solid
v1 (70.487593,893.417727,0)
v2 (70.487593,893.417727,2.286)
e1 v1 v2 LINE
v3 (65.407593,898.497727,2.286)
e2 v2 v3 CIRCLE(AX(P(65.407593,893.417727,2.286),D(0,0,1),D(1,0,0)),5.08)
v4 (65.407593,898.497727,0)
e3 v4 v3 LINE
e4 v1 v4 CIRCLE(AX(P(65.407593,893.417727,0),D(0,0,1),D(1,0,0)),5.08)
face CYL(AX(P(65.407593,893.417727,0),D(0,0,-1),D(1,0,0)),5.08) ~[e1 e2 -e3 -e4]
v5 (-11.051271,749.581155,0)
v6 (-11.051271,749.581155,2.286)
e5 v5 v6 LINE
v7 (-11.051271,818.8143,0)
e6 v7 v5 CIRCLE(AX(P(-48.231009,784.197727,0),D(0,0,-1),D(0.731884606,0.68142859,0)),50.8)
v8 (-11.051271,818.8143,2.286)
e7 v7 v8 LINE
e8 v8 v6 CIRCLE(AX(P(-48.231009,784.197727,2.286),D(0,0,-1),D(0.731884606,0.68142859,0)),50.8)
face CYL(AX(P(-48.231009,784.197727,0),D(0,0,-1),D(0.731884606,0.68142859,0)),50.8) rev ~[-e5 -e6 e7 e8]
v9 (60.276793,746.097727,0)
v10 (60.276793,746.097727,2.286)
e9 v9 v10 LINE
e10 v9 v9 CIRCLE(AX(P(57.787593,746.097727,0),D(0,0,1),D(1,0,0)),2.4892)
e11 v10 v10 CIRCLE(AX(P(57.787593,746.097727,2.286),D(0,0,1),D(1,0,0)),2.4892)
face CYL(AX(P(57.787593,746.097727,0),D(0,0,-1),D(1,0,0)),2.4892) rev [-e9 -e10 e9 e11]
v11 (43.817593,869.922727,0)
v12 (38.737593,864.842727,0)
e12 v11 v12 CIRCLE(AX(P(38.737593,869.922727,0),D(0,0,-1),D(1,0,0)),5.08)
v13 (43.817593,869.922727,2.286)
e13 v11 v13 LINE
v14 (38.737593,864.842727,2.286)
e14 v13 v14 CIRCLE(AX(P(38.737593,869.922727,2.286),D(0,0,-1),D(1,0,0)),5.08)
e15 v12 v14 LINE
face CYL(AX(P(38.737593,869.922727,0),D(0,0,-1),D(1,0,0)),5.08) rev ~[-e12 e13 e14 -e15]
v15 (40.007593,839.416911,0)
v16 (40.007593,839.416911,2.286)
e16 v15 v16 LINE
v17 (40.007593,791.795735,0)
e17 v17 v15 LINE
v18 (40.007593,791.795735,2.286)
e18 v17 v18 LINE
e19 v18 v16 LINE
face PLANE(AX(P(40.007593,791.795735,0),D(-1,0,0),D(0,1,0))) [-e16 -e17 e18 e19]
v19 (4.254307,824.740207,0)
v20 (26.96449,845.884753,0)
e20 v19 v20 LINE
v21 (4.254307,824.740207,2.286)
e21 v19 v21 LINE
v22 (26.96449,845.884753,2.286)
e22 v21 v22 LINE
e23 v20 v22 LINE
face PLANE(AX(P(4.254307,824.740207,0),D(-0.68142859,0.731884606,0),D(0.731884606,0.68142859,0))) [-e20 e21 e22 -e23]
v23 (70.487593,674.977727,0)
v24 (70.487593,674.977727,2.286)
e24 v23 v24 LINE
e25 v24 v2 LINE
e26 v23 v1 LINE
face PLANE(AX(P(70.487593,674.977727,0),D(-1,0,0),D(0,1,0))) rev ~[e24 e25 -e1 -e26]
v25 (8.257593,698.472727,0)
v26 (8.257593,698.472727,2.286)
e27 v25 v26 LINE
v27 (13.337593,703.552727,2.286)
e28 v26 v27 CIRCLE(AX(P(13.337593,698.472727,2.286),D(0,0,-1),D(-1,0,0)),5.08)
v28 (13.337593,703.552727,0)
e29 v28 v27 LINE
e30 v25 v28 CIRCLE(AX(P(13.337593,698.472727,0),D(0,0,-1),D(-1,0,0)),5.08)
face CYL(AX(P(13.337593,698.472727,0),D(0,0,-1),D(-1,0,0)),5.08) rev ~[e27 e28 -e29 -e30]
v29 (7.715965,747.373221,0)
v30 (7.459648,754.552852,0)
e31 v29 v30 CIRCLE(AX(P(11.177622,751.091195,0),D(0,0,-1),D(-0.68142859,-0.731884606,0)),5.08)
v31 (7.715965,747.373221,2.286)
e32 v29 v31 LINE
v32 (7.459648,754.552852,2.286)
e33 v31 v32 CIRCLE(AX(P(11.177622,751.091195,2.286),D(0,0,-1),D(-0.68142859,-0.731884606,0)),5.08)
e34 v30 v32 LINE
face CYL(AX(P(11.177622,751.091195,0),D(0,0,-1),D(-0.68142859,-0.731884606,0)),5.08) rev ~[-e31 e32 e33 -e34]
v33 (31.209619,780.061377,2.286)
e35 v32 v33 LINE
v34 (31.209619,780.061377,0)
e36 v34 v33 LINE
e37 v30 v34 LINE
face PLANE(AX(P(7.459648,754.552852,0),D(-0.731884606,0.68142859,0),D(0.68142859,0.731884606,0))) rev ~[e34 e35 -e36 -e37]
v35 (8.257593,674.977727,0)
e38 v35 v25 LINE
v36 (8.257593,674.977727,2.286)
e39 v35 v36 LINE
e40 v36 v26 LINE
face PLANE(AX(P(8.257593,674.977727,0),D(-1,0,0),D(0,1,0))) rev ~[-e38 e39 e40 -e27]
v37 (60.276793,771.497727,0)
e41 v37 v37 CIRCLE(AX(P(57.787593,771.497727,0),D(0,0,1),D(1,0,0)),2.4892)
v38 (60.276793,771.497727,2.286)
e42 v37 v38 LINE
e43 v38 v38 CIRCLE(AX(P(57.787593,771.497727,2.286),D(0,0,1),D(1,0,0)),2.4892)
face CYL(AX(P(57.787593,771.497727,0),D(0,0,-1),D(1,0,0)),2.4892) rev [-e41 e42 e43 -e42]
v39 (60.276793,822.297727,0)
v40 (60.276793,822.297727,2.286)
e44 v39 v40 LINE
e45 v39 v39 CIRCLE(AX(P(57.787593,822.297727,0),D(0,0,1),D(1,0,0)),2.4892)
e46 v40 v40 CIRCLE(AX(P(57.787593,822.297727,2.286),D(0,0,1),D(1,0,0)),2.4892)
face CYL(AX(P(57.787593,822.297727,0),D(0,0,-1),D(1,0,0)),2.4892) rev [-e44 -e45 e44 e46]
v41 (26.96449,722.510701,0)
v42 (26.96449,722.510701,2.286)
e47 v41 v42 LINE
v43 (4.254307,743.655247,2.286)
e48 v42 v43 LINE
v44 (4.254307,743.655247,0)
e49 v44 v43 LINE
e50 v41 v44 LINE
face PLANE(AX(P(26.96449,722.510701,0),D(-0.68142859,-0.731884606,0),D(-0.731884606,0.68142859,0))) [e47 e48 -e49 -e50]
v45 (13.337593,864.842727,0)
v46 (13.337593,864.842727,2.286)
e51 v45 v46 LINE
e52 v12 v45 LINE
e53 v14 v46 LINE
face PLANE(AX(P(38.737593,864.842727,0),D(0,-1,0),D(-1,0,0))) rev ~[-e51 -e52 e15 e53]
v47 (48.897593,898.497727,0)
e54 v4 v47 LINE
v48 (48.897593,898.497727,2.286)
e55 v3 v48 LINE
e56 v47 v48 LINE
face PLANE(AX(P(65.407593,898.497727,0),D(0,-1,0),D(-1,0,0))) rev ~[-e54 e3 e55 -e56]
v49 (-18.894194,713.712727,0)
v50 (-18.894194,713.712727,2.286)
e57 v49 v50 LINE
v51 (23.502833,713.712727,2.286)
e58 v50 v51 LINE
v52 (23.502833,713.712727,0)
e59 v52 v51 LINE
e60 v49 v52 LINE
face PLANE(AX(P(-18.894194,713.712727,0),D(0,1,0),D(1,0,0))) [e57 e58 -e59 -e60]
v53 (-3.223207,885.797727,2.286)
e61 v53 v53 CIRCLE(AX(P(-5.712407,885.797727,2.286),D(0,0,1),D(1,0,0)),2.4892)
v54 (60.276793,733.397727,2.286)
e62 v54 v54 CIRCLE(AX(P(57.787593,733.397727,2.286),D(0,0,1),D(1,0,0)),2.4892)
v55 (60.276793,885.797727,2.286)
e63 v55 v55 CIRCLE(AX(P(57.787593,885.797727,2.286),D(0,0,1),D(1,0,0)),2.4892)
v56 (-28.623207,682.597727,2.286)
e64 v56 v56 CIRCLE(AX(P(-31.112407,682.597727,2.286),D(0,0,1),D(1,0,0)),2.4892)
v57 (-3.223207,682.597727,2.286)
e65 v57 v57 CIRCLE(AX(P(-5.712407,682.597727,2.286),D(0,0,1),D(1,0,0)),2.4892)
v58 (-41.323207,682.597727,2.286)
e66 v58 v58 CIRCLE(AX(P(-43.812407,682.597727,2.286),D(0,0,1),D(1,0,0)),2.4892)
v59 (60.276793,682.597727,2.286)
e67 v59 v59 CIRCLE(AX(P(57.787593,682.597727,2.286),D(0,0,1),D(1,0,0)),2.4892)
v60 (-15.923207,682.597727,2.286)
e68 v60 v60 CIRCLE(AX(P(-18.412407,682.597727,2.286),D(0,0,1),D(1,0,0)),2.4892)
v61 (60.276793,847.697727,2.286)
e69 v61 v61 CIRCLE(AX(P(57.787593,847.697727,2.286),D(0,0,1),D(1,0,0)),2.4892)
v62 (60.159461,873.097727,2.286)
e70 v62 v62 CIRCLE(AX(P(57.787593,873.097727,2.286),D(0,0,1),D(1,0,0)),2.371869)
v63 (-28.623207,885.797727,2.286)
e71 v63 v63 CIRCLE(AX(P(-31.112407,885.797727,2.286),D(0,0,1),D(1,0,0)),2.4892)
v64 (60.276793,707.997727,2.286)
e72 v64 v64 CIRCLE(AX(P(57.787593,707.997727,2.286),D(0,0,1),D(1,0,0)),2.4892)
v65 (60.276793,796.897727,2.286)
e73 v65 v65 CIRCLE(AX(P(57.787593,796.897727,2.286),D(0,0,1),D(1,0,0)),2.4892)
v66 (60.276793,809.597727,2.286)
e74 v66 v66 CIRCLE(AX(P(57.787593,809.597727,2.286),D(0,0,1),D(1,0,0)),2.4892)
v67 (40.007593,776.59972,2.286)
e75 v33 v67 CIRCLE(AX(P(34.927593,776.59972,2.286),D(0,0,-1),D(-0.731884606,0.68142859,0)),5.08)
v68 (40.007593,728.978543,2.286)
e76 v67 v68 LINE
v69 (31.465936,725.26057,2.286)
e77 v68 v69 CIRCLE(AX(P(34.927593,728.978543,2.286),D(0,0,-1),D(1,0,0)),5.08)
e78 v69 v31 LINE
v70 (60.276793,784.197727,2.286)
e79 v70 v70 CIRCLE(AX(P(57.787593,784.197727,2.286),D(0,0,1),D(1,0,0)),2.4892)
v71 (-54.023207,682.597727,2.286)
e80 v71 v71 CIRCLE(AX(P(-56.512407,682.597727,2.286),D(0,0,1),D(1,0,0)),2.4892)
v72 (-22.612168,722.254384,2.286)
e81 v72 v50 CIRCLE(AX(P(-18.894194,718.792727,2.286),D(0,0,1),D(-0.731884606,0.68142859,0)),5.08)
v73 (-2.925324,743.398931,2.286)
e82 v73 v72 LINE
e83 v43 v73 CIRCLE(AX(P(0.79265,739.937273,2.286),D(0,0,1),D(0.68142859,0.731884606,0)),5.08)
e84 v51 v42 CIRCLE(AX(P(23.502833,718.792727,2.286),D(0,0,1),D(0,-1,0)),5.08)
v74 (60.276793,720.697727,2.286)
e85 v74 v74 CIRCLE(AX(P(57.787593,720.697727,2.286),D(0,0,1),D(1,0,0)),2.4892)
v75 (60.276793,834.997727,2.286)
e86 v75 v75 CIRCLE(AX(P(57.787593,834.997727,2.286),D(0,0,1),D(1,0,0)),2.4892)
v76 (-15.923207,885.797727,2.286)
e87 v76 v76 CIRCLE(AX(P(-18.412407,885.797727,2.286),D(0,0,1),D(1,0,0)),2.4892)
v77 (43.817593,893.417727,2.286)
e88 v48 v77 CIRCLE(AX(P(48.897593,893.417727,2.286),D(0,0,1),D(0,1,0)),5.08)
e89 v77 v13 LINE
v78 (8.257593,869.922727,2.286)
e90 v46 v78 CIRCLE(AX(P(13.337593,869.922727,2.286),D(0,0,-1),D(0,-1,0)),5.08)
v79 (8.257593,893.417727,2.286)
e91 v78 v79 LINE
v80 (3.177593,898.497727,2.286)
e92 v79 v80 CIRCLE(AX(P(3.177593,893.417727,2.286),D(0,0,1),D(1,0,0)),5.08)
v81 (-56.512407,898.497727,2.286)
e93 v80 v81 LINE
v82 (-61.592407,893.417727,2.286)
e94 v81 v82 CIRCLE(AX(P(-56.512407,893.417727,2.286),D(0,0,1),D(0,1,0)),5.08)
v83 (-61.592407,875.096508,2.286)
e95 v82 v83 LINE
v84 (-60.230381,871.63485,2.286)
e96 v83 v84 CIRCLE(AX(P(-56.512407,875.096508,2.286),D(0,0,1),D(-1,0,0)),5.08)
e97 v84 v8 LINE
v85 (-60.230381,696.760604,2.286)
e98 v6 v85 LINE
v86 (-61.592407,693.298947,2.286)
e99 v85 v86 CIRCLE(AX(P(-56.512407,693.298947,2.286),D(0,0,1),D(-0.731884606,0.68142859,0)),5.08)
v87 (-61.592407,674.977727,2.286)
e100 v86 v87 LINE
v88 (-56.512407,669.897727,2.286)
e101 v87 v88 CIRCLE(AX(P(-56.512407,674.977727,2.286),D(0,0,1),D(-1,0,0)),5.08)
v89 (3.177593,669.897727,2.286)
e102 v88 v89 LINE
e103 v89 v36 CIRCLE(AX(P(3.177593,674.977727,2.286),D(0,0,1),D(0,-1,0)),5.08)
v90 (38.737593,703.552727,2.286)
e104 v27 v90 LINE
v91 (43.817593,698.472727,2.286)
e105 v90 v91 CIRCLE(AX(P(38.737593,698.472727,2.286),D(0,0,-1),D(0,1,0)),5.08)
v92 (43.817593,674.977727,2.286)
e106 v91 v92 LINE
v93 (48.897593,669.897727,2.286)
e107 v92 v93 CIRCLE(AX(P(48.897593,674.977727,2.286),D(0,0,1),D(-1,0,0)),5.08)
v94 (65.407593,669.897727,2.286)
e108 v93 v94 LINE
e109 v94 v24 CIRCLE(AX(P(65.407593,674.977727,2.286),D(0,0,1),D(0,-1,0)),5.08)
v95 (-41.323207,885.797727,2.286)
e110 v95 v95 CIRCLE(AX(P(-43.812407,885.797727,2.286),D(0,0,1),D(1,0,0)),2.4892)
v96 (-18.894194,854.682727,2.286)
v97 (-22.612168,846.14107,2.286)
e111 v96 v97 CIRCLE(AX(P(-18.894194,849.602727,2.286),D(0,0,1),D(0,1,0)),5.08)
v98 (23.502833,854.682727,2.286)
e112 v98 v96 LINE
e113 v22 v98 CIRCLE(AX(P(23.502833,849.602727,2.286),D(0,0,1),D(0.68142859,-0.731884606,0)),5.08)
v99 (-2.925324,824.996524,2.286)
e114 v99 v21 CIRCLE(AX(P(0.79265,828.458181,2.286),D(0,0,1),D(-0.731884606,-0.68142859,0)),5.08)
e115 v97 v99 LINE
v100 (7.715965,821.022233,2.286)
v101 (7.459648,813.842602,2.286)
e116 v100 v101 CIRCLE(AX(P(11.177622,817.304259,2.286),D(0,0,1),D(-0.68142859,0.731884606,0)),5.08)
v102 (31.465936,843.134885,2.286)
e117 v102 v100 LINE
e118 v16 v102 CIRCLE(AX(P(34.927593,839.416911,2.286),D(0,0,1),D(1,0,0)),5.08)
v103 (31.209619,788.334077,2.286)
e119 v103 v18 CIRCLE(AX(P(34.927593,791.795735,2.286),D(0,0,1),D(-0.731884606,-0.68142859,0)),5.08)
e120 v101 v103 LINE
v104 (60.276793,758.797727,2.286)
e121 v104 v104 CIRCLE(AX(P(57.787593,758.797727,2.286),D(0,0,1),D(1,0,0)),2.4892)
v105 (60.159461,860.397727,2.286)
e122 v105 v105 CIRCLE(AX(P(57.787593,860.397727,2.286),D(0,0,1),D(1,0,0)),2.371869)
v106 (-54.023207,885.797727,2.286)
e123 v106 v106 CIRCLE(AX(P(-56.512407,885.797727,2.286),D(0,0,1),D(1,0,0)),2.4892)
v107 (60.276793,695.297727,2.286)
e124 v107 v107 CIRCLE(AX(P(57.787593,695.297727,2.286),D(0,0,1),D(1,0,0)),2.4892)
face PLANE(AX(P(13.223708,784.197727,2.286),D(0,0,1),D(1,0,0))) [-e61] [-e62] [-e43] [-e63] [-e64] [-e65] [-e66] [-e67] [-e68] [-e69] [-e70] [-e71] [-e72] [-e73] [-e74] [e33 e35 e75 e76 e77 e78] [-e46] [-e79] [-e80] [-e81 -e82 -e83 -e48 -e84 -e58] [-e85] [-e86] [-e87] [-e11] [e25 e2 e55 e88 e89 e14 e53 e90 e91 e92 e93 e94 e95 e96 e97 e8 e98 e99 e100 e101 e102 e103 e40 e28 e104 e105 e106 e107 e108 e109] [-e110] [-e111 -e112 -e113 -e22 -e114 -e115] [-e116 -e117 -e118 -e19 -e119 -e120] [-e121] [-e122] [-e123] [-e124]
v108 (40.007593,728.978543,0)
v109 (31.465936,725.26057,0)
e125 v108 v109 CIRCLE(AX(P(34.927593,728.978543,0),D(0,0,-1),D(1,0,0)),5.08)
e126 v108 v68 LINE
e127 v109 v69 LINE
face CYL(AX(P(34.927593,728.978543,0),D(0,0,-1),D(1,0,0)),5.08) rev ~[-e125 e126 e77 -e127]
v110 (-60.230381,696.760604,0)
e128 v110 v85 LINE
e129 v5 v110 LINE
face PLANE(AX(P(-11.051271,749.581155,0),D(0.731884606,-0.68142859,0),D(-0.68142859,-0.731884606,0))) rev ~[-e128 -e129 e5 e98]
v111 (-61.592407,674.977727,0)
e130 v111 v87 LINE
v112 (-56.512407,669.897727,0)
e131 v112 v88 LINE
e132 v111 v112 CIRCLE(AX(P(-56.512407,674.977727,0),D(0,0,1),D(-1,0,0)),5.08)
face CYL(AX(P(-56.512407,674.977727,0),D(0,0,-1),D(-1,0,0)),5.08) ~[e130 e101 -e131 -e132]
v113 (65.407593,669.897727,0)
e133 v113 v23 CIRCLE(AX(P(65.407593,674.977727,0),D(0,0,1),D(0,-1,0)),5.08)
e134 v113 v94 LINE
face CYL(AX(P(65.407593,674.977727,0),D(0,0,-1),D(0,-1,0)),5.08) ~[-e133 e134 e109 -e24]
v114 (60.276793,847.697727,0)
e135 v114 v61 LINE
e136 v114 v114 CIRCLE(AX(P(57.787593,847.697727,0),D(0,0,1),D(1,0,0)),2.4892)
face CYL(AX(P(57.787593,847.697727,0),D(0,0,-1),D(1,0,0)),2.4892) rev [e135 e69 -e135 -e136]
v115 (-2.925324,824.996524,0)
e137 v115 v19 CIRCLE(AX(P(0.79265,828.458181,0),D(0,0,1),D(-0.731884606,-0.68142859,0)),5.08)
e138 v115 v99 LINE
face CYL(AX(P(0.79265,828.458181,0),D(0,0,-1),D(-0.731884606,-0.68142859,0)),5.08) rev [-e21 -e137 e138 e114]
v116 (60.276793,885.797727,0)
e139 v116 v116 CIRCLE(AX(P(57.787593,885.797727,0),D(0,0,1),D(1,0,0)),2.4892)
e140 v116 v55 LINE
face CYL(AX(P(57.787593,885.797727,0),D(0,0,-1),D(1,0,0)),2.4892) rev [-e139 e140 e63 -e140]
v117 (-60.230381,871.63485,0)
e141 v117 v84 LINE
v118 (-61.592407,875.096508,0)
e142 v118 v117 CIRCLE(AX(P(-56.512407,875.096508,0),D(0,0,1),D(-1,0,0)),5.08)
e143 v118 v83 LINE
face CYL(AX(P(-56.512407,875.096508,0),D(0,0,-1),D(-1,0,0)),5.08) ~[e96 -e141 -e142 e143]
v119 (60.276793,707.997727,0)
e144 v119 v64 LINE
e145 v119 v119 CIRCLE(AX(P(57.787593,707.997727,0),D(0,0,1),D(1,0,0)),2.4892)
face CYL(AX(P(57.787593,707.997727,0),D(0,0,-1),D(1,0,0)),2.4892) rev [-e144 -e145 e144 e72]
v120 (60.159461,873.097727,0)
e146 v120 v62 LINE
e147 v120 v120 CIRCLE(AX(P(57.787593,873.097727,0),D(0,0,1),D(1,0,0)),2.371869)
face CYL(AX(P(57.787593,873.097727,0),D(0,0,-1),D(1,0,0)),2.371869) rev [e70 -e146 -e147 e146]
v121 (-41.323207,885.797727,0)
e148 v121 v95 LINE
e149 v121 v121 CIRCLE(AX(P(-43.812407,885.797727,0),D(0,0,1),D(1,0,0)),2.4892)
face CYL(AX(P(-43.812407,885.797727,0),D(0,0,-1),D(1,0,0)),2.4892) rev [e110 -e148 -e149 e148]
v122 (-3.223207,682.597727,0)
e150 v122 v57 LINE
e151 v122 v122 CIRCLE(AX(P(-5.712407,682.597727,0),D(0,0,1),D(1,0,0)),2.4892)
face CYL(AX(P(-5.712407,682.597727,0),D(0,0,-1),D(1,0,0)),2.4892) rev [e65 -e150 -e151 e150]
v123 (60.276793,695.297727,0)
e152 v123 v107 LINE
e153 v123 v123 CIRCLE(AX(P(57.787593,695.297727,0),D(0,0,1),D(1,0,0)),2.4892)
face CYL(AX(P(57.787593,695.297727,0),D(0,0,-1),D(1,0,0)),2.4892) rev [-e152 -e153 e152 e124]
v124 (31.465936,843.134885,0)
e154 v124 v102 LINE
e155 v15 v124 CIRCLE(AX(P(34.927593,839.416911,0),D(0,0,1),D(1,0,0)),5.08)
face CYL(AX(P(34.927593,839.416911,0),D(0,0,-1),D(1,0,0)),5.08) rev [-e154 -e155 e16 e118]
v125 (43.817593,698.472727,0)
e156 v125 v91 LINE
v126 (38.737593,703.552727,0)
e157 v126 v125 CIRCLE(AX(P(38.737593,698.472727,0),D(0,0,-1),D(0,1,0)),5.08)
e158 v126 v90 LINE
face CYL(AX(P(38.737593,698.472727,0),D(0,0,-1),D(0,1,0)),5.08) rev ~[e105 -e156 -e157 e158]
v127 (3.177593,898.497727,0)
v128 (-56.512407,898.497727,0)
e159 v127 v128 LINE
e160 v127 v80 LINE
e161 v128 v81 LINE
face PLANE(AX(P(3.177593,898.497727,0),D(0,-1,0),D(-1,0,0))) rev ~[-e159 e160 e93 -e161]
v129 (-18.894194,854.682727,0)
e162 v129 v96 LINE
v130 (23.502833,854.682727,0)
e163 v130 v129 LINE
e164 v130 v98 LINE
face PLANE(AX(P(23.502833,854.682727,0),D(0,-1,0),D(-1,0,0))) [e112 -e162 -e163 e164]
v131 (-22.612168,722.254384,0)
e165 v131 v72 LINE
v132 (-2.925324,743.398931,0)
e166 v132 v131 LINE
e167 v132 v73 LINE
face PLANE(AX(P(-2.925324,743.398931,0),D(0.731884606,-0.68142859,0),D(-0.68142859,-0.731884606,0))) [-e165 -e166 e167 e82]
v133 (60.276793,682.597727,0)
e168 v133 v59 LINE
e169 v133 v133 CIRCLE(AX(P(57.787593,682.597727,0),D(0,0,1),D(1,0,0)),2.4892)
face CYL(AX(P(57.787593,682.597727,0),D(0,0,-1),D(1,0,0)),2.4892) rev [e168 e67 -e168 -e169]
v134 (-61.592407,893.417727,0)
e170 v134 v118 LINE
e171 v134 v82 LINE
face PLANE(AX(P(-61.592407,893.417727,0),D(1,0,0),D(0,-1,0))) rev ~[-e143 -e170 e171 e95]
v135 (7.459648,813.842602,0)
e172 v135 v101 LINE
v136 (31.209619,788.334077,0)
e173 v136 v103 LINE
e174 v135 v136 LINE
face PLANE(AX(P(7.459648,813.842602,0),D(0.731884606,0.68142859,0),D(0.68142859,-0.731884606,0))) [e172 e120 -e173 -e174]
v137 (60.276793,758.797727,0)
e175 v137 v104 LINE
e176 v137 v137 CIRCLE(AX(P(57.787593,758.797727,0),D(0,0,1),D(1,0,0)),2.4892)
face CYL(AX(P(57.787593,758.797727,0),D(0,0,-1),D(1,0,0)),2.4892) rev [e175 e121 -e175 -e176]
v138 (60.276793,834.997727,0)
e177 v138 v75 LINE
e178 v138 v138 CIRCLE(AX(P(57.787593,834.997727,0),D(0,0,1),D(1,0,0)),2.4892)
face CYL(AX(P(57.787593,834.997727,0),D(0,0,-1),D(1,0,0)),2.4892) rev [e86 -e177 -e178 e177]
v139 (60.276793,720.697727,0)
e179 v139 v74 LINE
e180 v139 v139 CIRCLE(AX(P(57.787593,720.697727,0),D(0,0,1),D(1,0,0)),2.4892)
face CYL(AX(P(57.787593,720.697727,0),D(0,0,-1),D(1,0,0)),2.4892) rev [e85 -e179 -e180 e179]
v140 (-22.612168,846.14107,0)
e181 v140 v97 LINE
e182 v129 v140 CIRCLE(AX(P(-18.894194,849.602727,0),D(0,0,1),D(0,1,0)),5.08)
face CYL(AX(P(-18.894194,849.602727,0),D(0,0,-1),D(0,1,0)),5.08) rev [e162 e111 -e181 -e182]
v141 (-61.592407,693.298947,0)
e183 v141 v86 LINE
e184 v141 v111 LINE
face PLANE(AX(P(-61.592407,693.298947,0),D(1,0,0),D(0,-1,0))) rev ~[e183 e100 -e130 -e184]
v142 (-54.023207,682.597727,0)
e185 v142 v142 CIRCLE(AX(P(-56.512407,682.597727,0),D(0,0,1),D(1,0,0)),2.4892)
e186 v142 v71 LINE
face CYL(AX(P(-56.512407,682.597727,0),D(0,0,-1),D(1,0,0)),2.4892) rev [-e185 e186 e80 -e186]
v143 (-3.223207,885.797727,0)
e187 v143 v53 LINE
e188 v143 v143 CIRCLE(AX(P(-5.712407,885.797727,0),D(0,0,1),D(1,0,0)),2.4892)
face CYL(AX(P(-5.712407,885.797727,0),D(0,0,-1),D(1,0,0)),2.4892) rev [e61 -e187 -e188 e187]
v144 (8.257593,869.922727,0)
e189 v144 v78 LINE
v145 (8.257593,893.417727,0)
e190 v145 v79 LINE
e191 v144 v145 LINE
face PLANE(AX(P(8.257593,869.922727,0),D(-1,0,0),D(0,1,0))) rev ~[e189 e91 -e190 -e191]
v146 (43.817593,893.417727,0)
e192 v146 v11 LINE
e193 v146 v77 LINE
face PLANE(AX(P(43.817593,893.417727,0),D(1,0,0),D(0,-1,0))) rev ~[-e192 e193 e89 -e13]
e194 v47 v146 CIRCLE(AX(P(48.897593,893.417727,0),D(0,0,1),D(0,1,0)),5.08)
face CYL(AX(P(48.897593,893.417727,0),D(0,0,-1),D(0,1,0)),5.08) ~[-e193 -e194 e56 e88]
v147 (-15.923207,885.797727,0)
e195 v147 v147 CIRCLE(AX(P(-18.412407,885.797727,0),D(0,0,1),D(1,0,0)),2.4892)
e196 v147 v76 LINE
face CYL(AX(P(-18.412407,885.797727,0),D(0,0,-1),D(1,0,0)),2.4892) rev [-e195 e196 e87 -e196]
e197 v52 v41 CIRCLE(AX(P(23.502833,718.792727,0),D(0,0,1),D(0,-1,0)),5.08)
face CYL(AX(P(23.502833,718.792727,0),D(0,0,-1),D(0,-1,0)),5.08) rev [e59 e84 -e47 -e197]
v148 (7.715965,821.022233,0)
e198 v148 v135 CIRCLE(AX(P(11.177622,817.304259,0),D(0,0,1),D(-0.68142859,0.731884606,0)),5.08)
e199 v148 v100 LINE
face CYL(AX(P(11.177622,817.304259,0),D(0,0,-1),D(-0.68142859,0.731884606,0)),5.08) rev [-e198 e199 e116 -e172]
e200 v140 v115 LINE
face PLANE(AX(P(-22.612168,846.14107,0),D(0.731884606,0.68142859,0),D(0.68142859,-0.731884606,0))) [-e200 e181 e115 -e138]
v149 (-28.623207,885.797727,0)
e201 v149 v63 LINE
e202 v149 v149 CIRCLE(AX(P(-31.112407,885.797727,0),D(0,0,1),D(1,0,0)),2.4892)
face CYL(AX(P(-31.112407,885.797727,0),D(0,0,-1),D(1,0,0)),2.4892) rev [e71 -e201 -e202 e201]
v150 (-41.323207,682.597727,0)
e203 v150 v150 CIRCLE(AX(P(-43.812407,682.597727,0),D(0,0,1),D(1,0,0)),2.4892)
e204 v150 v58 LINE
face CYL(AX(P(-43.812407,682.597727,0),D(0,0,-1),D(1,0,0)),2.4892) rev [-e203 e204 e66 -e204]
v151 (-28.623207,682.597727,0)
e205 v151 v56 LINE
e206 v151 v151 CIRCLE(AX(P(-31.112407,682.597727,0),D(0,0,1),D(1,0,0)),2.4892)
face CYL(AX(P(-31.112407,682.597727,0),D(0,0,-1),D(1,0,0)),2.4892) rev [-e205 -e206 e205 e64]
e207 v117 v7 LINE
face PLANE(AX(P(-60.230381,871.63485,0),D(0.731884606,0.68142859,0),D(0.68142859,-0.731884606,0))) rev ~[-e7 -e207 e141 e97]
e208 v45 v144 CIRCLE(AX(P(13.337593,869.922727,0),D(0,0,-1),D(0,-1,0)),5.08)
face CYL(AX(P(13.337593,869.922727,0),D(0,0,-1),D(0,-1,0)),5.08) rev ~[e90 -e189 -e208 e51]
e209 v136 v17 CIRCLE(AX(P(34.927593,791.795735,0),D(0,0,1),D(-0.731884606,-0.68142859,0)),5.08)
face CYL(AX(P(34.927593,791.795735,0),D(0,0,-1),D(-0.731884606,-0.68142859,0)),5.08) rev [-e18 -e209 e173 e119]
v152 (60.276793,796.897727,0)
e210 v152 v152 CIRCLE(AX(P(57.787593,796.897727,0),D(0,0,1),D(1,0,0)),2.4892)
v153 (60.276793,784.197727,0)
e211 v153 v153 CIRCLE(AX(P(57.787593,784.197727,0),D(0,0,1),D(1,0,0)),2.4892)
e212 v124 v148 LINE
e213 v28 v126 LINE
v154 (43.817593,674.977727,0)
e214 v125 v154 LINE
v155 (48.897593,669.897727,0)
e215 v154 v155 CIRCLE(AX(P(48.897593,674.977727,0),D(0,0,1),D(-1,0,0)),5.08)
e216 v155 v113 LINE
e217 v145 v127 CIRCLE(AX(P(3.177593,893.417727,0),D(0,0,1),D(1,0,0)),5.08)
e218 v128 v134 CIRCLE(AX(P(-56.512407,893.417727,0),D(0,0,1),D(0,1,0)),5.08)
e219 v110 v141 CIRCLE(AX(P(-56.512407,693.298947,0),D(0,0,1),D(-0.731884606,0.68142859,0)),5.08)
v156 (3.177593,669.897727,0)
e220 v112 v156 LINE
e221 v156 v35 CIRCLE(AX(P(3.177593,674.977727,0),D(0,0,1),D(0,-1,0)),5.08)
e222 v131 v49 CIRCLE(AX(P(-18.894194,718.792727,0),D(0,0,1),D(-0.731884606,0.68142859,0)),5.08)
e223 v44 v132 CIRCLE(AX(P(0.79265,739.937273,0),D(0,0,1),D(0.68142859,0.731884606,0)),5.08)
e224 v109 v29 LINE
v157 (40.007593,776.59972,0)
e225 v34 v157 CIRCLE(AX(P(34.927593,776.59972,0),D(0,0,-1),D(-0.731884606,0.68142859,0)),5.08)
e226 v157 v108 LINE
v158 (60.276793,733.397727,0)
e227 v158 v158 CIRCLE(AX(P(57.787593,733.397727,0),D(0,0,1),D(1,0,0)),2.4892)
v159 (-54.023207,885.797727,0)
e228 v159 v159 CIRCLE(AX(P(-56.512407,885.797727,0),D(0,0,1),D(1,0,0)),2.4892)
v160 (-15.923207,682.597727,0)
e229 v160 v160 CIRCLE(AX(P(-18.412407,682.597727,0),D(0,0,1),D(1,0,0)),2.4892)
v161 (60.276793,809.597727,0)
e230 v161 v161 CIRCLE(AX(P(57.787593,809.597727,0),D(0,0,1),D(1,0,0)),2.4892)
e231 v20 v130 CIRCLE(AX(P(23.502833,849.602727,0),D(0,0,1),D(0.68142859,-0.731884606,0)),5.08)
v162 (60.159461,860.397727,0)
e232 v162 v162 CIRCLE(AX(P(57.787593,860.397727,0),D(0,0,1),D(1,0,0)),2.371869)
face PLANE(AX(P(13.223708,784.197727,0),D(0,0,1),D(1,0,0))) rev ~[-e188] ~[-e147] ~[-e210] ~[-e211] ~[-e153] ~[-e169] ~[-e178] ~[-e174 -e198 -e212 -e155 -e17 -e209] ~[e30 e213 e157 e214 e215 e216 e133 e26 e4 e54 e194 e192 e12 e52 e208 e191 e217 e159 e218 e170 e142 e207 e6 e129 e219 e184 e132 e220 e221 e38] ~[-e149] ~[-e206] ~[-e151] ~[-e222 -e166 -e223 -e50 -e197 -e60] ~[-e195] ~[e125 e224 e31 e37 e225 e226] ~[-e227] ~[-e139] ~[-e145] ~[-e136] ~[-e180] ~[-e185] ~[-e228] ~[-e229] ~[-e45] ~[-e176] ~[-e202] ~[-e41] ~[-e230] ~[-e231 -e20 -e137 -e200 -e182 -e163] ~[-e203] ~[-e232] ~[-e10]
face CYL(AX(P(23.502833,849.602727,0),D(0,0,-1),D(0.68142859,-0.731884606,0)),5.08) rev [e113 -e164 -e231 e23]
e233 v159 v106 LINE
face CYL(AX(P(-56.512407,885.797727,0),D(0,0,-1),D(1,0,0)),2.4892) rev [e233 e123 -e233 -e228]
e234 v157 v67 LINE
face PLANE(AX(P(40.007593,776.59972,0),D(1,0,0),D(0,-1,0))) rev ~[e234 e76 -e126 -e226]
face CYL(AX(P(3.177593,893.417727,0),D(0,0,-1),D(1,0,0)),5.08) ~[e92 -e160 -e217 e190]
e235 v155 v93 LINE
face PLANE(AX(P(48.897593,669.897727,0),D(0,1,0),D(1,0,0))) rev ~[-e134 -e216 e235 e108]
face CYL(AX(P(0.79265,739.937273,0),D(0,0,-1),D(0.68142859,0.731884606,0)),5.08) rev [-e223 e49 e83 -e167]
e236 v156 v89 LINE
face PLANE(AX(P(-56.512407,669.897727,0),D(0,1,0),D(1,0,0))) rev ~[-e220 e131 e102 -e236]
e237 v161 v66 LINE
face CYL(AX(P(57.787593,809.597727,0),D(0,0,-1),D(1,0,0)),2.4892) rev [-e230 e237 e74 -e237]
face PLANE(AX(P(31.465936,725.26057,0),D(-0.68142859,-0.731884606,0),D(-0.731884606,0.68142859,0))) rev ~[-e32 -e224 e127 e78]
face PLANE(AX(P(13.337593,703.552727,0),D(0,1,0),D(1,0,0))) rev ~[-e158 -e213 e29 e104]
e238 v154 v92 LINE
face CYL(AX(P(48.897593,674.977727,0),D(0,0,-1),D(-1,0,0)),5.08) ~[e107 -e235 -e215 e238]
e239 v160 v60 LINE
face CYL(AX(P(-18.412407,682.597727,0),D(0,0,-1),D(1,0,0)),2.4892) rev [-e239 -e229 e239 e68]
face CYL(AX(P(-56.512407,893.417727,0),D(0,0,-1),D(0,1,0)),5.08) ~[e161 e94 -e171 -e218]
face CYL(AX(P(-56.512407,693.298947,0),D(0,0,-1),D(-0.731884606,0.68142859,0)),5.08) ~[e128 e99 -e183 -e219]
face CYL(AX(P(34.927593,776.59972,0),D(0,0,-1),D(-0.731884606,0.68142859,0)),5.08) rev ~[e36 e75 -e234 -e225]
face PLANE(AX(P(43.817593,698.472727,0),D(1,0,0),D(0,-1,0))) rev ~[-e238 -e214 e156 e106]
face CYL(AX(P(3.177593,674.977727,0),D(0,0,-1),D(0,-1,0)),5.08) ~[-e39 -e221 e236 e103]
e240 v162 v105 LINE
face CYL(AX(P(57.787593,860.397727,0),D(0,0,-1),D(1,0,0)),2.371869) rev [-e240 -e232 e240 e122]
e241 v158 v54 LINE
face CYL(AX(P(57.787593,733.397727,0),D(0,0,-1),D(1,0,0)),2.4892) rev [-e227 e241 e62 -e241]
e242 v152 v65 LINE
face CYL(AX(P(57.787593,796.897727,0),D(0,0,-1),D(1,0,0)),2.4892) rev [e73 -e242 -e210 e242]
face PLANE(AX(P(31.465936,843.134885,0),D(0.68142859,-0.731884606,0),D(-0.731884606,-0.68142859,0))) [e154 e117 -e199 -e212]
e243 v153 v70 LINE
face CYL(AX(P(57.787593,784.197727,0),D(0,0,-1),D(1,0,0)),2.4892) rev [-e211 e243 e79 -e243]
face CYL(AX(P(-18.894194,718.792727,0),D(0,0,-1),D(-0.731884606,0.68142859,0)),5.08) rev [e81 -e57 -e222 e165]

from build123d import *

# Parameters (mm, degrees)
SKETCH1_R           = 2.4892
SKETCH1_R_2         = 2.37186857
BOSS_EXTRUDE2_DEPTH = 2.286


with BuildPart() as part:
    # Sketch1 → Boss-Extrude2 (new body)
    with BuildSketch(Plane.XY):
        with BuildLine():
            Line((65.40759274, 898.497727162), (48.89759274, 898.497727162))
            ThreePointArc((48.89759274, 898.497727162), (45.305490291, 897.009829611), (43.81759274, 893.417727162))
            Line((43.81759274, 893.417727162), (43.81759274, 869.922727162))
            ThreePointArc((43.81759274, 869.922727162), (42.329695188, 866.330624714), (38.73759274, 864.842727162))
            Line((38.73759274, 864.842727162), (13.33759274, 864.842727162))
            ThreePointArc((13.33759274, 864.842727162), (9.745490291, 866.330624714), (8.25759274, 869.922727162))
            Line((8.25759274, 869.922727162), (8.25759274, 893.417727162))
            ThreePointArc((8.25759274, 893.417727162), (6.769695188, 897.009829611), (3.17759274, 898.497727162))
            Line((3.17759274, 898.497727162), (-56.51240726, 898.497727162))
            ThreePointArc((-56.51240726, 898.497727162), (-60.104509709, 897.009829611), (-61.59240726, 893.417727162))
            Line((-61.59240726, 893.417727162), (-61.59240726, 875.096507696))
            ThreePointArc((-61.59240726, 875.096507696), (-61.239653123, 873.236522064), (-60.230381059, 871.634850458))
            Line((-60.230381059, 871.634850458), (-11.051271068, 818.81429954))
            ThreePointArc((-11.051271068, 818.81429954), (2.568990945, 784.197727162), (-11.051271068, 749.581154784))
            Line((-11.051271068, 749.581154784), (-60.230381059, 696.760603866))
            ThreePointArc((-60.230381059, 696.760603866), (-61.239653123, 695.15893226), (-61.59240726, 693.298946628))
            Line((-61.59240726, 693.298946628), (-61.59240726, 674.977727162))
            ThreePointArc((-61.59240726, 674.977727162), (-60.104509709, 671.385624714), (-56.51240726, 669.897727162))
            Line((-56.51240726, 669.897727162), (3.17759274, 669.897727162))
            ThreePointArc((3.17759274, 669.897727162), (6.769695188, 671.385624714), (8.25759274, 674.977727162))
            Line((8.25759274, 674.977727162), (8.25759274, 698.472727162))
            ThreePointArc((8.25759274, 698.472727162), (9.745490291, 702.064829611), (13.33759274, 703.552727162))
            Line((13.33759274, 703.552727162), (38.73759274, 703.552727162))
            ThreePointArc((38.73759274, 703.552727162), (42.329695188, 702.064829611), (43.81759274, 698.472727162))
            Line((43.81759274, 698.472727162), (43.81759274, 674.977727162))
            ThreePointArc((43.81759274, 674.977727162), (45.305490291, 671.385624714), (48.89759274, 669.897727162))
            Line((48.89759274, 669.897727162), (65.40759274, 669.897727162))
            ThreePointArc((65.40759274, 669.897727162), (68.999695188, 671.385624714), (70.48759274, 674.977727162))
            Line((70.48759274, 674.977727162), (70.48759274, 784.197727162))
            Line((70.48759274, 784.197727162), (70.48759274, 893.417727162))
            ThreePointArc((70.48759274, 893.417727162), (68.999695188, 897.009829611), (65.40759274, 898.497727162))
        make_face()
        with Locations((-31.11240726, 885.797727162)):
            Circle(SKETCH1_R, mode=Mode.SUBTRACT)
        with Locations((-18.41240726, 885.797727162)):
            Circle(SKETCH1_R, mode=Mode.SUBTRACT)
        with Locations((-5.71240726, 885.797727162)):
            Circle(SKETCH1_R, mode=Mode.SUBTRACT)
        with Locations((57.78759274, 860.397727162)):
            Circle(SKETCH1_R_2, mode=Mode.SUBTRACT)
        with Locations((57.78759274, 847.697727162)):
            Circle(SKETCH1_R, mode=Mode.SUBTRACT)
        with Locations((57.78759274, 834.997727162)):
            Circle(SKETCH1_R, mode=Mode.SUBTRACT)
        with Locations((57.78759274, 822.297727162)):
            Circle(SKETCH1_R, mode=Mode.SUBTRACT)
        with Locations((57.78759274, 809.597727162)):
            Circle(SKETCH1_R, mode=Mode.SUBTRACT)
        with Locations((-5.71240726, 682.597727162)):
            Circle(SKETCH1_R, mode=Mode.SUBTRACT)
        with Locations((-18.41240726, 682.597727162)):
            Circle(SKETCH1_R, mode=Mode.SUBTRACT)
        with Locations((-31.11240726, 682.597727162)):
            Circle(SKETCH1_R, mode=Mode.SUBTRACT)
        with Locations((57.78759274, 733.397727162)):
            Circle(SKETCH1_R, mode=Mode.SUBTRACT)
        with Locations((57.78759274, 720.697727162)):
            Circle(SKETCH1_R, mode=Mode.SUBTRACT)
        with Locations((57.78759274, 707.997727162)):
            Circle(SKETCH1_R, mode=Mode.SUBTRACT)
        with Locations((57.78759274, 682.597727162)):
            Circle(SKETCH1_R, mode=Mode.SUBTRACT)
        with Locations((57.78759274, 885.797727162)):
            Circle(SKETCH1_R, mode=Mode.SUBTRACT)
        with Locations((57.78759274, 771.497727162)):
            Circle(SKETCH1_R, mode=Mode.SUBTRACT)
        with Locations((57.78759274, 758.797727162)):
            Circle(SKETCH1_R, mode=Mode.SUBTRACT)
        with Locations((57.78759274, 746.097727162)):
            Circle(SKETCH1_R, mode=Mode.SUBTRACT)
        with Locations((-56.51240726, 885.797727162)):
            Circle(SKETCH1_R, mode=Mode.SUBTRACT)
        with Locations((-43.81240726, 885.797727162)):
            Circle(SKETCH1_R, mode=Mode.SUBTRACT)
        with Locations((-43.81240726, 682.597727162)):
            Circle(SKETCH1_R, mode=Mode.SUBTRACT)
        with Locations((-56.51240726, 682.597727162)):
            Circle(SKETCH1_R, mode=Mode.SUBTRACT)
        with Locations((57.78759274, 796.897727162)):
            Circle(SKETCH1_R, mode=Mode.SUBTRACT)
        with Locations((57.78759274, 784.197727162)):
            Circle(SKETCH1_R, mode=Mode.SUBTRACT)
        with Locations((57.78759274, 873.097727162)):
            Circle(SKETCH1_R_2, mode=Mode.SUBTRACT)
        with Locations((57.78759274, 695.297727162)):
            Circle(SKETCH1_R, mode=Mode.SUBTRACT)
        with BuildLine():
            Line((-22.612168162, 846.141069924), (-2.925323721, 824.996523604))
            ThreePointArc((-2.925323721, 824.996523604), (0.611406899, 823.381415049), (4.254307315, 824.740207043))
            Line((4.254307315, 824.740207043), (26.964490273, 845.884753363))
            ThreePointArc((26.964490273, 845.884753363), (28.230078898, 851.462712794), (23.502833035, 854.682727162))
            Line((23.502833035, 854.682727162), (-18.894194364, 854.682727162))
            ThreePointArc((-18.894194364, 854.682727162), (-23.552070423, 851.630186315), (-22.612168162, 846.141069924))
        make_face(mode=Mode.SUBTRACT)
        with BuildLine():
            Line((40.00759274, 791.795734585), (40.00759274, 839.416910928))
            ThreePointArc((40.00759274, 839.416910928), (36.955051892, 844.074786987), (31.465935502, 843.134884727))
            Line((31.465935502, 843.134884727), (7.715964553, 821.022233244))
            ThreePointArc((7.715964553, 821.022233244), (6.100855998, 817.485502624), (7.459647992, 813.842602208))
            Line((7.459647992, 813.842602208), (31.209618941, 788.334077347))
            ThreePointArc((31.209618941, 788.334077347), (36.787578372, 787.068488722), (40.00759274, 791.795734585))
        make_face(mode=Mode.SUBTRACT)
        with BuildLine():
            Line((7.459647992, 754.552852117), (31.209618941, 780.061376977))
            ThreePointArc((31.209618941, 780.061376977), (36.787578372, 781.326965602), (40.00759274, 776.599719739))
            Line((40.00759274, 776.599719739), (40.00759274, 728.978543396))
            ThreePointArc((40.00759274, 728.978543396), (36.955051892, 724.320667337), (31.465935502, 725.260569598))
            Line((31.465935502, 725.260569598), (7.715964553, 747.37322108))
            ThreePointArc((7.715964553, 747.37322108), (6.100855998, 750.909951701), (7.459647992, 754.552852117))
        make_face(mode=Mode.SUBTRACT)
        with BuildLine():
            Line((26.964490273, 722.510700961), (4.254307315, 743.655247282))
            ThreePointArc((4.254307315, 743.655247282), (0.611406899, 745.014039275), (-2.925323721, 743.398930721))
            Line((-2.925323721, 743.398930721), (-22.612168162, 722.2543844))
            ThreePointArc((-22.612168162, 722.2543844), (-23.552070423, 716.765268009), (-18.894194364, 713.712727162))
            Line((-18.894194364, 713.712727162), (23.502833035, 713.712727162))
            ThreePointArc((23.502833035, 713.712727162), (28.230078898, 716.93274153), (26.964490273, 722.510700961))
        make_face(mode=Mode.SUBTRACT)
    extrude(amount=BOSS_EXTRUDE2_DEPTH)


solid = part.part
